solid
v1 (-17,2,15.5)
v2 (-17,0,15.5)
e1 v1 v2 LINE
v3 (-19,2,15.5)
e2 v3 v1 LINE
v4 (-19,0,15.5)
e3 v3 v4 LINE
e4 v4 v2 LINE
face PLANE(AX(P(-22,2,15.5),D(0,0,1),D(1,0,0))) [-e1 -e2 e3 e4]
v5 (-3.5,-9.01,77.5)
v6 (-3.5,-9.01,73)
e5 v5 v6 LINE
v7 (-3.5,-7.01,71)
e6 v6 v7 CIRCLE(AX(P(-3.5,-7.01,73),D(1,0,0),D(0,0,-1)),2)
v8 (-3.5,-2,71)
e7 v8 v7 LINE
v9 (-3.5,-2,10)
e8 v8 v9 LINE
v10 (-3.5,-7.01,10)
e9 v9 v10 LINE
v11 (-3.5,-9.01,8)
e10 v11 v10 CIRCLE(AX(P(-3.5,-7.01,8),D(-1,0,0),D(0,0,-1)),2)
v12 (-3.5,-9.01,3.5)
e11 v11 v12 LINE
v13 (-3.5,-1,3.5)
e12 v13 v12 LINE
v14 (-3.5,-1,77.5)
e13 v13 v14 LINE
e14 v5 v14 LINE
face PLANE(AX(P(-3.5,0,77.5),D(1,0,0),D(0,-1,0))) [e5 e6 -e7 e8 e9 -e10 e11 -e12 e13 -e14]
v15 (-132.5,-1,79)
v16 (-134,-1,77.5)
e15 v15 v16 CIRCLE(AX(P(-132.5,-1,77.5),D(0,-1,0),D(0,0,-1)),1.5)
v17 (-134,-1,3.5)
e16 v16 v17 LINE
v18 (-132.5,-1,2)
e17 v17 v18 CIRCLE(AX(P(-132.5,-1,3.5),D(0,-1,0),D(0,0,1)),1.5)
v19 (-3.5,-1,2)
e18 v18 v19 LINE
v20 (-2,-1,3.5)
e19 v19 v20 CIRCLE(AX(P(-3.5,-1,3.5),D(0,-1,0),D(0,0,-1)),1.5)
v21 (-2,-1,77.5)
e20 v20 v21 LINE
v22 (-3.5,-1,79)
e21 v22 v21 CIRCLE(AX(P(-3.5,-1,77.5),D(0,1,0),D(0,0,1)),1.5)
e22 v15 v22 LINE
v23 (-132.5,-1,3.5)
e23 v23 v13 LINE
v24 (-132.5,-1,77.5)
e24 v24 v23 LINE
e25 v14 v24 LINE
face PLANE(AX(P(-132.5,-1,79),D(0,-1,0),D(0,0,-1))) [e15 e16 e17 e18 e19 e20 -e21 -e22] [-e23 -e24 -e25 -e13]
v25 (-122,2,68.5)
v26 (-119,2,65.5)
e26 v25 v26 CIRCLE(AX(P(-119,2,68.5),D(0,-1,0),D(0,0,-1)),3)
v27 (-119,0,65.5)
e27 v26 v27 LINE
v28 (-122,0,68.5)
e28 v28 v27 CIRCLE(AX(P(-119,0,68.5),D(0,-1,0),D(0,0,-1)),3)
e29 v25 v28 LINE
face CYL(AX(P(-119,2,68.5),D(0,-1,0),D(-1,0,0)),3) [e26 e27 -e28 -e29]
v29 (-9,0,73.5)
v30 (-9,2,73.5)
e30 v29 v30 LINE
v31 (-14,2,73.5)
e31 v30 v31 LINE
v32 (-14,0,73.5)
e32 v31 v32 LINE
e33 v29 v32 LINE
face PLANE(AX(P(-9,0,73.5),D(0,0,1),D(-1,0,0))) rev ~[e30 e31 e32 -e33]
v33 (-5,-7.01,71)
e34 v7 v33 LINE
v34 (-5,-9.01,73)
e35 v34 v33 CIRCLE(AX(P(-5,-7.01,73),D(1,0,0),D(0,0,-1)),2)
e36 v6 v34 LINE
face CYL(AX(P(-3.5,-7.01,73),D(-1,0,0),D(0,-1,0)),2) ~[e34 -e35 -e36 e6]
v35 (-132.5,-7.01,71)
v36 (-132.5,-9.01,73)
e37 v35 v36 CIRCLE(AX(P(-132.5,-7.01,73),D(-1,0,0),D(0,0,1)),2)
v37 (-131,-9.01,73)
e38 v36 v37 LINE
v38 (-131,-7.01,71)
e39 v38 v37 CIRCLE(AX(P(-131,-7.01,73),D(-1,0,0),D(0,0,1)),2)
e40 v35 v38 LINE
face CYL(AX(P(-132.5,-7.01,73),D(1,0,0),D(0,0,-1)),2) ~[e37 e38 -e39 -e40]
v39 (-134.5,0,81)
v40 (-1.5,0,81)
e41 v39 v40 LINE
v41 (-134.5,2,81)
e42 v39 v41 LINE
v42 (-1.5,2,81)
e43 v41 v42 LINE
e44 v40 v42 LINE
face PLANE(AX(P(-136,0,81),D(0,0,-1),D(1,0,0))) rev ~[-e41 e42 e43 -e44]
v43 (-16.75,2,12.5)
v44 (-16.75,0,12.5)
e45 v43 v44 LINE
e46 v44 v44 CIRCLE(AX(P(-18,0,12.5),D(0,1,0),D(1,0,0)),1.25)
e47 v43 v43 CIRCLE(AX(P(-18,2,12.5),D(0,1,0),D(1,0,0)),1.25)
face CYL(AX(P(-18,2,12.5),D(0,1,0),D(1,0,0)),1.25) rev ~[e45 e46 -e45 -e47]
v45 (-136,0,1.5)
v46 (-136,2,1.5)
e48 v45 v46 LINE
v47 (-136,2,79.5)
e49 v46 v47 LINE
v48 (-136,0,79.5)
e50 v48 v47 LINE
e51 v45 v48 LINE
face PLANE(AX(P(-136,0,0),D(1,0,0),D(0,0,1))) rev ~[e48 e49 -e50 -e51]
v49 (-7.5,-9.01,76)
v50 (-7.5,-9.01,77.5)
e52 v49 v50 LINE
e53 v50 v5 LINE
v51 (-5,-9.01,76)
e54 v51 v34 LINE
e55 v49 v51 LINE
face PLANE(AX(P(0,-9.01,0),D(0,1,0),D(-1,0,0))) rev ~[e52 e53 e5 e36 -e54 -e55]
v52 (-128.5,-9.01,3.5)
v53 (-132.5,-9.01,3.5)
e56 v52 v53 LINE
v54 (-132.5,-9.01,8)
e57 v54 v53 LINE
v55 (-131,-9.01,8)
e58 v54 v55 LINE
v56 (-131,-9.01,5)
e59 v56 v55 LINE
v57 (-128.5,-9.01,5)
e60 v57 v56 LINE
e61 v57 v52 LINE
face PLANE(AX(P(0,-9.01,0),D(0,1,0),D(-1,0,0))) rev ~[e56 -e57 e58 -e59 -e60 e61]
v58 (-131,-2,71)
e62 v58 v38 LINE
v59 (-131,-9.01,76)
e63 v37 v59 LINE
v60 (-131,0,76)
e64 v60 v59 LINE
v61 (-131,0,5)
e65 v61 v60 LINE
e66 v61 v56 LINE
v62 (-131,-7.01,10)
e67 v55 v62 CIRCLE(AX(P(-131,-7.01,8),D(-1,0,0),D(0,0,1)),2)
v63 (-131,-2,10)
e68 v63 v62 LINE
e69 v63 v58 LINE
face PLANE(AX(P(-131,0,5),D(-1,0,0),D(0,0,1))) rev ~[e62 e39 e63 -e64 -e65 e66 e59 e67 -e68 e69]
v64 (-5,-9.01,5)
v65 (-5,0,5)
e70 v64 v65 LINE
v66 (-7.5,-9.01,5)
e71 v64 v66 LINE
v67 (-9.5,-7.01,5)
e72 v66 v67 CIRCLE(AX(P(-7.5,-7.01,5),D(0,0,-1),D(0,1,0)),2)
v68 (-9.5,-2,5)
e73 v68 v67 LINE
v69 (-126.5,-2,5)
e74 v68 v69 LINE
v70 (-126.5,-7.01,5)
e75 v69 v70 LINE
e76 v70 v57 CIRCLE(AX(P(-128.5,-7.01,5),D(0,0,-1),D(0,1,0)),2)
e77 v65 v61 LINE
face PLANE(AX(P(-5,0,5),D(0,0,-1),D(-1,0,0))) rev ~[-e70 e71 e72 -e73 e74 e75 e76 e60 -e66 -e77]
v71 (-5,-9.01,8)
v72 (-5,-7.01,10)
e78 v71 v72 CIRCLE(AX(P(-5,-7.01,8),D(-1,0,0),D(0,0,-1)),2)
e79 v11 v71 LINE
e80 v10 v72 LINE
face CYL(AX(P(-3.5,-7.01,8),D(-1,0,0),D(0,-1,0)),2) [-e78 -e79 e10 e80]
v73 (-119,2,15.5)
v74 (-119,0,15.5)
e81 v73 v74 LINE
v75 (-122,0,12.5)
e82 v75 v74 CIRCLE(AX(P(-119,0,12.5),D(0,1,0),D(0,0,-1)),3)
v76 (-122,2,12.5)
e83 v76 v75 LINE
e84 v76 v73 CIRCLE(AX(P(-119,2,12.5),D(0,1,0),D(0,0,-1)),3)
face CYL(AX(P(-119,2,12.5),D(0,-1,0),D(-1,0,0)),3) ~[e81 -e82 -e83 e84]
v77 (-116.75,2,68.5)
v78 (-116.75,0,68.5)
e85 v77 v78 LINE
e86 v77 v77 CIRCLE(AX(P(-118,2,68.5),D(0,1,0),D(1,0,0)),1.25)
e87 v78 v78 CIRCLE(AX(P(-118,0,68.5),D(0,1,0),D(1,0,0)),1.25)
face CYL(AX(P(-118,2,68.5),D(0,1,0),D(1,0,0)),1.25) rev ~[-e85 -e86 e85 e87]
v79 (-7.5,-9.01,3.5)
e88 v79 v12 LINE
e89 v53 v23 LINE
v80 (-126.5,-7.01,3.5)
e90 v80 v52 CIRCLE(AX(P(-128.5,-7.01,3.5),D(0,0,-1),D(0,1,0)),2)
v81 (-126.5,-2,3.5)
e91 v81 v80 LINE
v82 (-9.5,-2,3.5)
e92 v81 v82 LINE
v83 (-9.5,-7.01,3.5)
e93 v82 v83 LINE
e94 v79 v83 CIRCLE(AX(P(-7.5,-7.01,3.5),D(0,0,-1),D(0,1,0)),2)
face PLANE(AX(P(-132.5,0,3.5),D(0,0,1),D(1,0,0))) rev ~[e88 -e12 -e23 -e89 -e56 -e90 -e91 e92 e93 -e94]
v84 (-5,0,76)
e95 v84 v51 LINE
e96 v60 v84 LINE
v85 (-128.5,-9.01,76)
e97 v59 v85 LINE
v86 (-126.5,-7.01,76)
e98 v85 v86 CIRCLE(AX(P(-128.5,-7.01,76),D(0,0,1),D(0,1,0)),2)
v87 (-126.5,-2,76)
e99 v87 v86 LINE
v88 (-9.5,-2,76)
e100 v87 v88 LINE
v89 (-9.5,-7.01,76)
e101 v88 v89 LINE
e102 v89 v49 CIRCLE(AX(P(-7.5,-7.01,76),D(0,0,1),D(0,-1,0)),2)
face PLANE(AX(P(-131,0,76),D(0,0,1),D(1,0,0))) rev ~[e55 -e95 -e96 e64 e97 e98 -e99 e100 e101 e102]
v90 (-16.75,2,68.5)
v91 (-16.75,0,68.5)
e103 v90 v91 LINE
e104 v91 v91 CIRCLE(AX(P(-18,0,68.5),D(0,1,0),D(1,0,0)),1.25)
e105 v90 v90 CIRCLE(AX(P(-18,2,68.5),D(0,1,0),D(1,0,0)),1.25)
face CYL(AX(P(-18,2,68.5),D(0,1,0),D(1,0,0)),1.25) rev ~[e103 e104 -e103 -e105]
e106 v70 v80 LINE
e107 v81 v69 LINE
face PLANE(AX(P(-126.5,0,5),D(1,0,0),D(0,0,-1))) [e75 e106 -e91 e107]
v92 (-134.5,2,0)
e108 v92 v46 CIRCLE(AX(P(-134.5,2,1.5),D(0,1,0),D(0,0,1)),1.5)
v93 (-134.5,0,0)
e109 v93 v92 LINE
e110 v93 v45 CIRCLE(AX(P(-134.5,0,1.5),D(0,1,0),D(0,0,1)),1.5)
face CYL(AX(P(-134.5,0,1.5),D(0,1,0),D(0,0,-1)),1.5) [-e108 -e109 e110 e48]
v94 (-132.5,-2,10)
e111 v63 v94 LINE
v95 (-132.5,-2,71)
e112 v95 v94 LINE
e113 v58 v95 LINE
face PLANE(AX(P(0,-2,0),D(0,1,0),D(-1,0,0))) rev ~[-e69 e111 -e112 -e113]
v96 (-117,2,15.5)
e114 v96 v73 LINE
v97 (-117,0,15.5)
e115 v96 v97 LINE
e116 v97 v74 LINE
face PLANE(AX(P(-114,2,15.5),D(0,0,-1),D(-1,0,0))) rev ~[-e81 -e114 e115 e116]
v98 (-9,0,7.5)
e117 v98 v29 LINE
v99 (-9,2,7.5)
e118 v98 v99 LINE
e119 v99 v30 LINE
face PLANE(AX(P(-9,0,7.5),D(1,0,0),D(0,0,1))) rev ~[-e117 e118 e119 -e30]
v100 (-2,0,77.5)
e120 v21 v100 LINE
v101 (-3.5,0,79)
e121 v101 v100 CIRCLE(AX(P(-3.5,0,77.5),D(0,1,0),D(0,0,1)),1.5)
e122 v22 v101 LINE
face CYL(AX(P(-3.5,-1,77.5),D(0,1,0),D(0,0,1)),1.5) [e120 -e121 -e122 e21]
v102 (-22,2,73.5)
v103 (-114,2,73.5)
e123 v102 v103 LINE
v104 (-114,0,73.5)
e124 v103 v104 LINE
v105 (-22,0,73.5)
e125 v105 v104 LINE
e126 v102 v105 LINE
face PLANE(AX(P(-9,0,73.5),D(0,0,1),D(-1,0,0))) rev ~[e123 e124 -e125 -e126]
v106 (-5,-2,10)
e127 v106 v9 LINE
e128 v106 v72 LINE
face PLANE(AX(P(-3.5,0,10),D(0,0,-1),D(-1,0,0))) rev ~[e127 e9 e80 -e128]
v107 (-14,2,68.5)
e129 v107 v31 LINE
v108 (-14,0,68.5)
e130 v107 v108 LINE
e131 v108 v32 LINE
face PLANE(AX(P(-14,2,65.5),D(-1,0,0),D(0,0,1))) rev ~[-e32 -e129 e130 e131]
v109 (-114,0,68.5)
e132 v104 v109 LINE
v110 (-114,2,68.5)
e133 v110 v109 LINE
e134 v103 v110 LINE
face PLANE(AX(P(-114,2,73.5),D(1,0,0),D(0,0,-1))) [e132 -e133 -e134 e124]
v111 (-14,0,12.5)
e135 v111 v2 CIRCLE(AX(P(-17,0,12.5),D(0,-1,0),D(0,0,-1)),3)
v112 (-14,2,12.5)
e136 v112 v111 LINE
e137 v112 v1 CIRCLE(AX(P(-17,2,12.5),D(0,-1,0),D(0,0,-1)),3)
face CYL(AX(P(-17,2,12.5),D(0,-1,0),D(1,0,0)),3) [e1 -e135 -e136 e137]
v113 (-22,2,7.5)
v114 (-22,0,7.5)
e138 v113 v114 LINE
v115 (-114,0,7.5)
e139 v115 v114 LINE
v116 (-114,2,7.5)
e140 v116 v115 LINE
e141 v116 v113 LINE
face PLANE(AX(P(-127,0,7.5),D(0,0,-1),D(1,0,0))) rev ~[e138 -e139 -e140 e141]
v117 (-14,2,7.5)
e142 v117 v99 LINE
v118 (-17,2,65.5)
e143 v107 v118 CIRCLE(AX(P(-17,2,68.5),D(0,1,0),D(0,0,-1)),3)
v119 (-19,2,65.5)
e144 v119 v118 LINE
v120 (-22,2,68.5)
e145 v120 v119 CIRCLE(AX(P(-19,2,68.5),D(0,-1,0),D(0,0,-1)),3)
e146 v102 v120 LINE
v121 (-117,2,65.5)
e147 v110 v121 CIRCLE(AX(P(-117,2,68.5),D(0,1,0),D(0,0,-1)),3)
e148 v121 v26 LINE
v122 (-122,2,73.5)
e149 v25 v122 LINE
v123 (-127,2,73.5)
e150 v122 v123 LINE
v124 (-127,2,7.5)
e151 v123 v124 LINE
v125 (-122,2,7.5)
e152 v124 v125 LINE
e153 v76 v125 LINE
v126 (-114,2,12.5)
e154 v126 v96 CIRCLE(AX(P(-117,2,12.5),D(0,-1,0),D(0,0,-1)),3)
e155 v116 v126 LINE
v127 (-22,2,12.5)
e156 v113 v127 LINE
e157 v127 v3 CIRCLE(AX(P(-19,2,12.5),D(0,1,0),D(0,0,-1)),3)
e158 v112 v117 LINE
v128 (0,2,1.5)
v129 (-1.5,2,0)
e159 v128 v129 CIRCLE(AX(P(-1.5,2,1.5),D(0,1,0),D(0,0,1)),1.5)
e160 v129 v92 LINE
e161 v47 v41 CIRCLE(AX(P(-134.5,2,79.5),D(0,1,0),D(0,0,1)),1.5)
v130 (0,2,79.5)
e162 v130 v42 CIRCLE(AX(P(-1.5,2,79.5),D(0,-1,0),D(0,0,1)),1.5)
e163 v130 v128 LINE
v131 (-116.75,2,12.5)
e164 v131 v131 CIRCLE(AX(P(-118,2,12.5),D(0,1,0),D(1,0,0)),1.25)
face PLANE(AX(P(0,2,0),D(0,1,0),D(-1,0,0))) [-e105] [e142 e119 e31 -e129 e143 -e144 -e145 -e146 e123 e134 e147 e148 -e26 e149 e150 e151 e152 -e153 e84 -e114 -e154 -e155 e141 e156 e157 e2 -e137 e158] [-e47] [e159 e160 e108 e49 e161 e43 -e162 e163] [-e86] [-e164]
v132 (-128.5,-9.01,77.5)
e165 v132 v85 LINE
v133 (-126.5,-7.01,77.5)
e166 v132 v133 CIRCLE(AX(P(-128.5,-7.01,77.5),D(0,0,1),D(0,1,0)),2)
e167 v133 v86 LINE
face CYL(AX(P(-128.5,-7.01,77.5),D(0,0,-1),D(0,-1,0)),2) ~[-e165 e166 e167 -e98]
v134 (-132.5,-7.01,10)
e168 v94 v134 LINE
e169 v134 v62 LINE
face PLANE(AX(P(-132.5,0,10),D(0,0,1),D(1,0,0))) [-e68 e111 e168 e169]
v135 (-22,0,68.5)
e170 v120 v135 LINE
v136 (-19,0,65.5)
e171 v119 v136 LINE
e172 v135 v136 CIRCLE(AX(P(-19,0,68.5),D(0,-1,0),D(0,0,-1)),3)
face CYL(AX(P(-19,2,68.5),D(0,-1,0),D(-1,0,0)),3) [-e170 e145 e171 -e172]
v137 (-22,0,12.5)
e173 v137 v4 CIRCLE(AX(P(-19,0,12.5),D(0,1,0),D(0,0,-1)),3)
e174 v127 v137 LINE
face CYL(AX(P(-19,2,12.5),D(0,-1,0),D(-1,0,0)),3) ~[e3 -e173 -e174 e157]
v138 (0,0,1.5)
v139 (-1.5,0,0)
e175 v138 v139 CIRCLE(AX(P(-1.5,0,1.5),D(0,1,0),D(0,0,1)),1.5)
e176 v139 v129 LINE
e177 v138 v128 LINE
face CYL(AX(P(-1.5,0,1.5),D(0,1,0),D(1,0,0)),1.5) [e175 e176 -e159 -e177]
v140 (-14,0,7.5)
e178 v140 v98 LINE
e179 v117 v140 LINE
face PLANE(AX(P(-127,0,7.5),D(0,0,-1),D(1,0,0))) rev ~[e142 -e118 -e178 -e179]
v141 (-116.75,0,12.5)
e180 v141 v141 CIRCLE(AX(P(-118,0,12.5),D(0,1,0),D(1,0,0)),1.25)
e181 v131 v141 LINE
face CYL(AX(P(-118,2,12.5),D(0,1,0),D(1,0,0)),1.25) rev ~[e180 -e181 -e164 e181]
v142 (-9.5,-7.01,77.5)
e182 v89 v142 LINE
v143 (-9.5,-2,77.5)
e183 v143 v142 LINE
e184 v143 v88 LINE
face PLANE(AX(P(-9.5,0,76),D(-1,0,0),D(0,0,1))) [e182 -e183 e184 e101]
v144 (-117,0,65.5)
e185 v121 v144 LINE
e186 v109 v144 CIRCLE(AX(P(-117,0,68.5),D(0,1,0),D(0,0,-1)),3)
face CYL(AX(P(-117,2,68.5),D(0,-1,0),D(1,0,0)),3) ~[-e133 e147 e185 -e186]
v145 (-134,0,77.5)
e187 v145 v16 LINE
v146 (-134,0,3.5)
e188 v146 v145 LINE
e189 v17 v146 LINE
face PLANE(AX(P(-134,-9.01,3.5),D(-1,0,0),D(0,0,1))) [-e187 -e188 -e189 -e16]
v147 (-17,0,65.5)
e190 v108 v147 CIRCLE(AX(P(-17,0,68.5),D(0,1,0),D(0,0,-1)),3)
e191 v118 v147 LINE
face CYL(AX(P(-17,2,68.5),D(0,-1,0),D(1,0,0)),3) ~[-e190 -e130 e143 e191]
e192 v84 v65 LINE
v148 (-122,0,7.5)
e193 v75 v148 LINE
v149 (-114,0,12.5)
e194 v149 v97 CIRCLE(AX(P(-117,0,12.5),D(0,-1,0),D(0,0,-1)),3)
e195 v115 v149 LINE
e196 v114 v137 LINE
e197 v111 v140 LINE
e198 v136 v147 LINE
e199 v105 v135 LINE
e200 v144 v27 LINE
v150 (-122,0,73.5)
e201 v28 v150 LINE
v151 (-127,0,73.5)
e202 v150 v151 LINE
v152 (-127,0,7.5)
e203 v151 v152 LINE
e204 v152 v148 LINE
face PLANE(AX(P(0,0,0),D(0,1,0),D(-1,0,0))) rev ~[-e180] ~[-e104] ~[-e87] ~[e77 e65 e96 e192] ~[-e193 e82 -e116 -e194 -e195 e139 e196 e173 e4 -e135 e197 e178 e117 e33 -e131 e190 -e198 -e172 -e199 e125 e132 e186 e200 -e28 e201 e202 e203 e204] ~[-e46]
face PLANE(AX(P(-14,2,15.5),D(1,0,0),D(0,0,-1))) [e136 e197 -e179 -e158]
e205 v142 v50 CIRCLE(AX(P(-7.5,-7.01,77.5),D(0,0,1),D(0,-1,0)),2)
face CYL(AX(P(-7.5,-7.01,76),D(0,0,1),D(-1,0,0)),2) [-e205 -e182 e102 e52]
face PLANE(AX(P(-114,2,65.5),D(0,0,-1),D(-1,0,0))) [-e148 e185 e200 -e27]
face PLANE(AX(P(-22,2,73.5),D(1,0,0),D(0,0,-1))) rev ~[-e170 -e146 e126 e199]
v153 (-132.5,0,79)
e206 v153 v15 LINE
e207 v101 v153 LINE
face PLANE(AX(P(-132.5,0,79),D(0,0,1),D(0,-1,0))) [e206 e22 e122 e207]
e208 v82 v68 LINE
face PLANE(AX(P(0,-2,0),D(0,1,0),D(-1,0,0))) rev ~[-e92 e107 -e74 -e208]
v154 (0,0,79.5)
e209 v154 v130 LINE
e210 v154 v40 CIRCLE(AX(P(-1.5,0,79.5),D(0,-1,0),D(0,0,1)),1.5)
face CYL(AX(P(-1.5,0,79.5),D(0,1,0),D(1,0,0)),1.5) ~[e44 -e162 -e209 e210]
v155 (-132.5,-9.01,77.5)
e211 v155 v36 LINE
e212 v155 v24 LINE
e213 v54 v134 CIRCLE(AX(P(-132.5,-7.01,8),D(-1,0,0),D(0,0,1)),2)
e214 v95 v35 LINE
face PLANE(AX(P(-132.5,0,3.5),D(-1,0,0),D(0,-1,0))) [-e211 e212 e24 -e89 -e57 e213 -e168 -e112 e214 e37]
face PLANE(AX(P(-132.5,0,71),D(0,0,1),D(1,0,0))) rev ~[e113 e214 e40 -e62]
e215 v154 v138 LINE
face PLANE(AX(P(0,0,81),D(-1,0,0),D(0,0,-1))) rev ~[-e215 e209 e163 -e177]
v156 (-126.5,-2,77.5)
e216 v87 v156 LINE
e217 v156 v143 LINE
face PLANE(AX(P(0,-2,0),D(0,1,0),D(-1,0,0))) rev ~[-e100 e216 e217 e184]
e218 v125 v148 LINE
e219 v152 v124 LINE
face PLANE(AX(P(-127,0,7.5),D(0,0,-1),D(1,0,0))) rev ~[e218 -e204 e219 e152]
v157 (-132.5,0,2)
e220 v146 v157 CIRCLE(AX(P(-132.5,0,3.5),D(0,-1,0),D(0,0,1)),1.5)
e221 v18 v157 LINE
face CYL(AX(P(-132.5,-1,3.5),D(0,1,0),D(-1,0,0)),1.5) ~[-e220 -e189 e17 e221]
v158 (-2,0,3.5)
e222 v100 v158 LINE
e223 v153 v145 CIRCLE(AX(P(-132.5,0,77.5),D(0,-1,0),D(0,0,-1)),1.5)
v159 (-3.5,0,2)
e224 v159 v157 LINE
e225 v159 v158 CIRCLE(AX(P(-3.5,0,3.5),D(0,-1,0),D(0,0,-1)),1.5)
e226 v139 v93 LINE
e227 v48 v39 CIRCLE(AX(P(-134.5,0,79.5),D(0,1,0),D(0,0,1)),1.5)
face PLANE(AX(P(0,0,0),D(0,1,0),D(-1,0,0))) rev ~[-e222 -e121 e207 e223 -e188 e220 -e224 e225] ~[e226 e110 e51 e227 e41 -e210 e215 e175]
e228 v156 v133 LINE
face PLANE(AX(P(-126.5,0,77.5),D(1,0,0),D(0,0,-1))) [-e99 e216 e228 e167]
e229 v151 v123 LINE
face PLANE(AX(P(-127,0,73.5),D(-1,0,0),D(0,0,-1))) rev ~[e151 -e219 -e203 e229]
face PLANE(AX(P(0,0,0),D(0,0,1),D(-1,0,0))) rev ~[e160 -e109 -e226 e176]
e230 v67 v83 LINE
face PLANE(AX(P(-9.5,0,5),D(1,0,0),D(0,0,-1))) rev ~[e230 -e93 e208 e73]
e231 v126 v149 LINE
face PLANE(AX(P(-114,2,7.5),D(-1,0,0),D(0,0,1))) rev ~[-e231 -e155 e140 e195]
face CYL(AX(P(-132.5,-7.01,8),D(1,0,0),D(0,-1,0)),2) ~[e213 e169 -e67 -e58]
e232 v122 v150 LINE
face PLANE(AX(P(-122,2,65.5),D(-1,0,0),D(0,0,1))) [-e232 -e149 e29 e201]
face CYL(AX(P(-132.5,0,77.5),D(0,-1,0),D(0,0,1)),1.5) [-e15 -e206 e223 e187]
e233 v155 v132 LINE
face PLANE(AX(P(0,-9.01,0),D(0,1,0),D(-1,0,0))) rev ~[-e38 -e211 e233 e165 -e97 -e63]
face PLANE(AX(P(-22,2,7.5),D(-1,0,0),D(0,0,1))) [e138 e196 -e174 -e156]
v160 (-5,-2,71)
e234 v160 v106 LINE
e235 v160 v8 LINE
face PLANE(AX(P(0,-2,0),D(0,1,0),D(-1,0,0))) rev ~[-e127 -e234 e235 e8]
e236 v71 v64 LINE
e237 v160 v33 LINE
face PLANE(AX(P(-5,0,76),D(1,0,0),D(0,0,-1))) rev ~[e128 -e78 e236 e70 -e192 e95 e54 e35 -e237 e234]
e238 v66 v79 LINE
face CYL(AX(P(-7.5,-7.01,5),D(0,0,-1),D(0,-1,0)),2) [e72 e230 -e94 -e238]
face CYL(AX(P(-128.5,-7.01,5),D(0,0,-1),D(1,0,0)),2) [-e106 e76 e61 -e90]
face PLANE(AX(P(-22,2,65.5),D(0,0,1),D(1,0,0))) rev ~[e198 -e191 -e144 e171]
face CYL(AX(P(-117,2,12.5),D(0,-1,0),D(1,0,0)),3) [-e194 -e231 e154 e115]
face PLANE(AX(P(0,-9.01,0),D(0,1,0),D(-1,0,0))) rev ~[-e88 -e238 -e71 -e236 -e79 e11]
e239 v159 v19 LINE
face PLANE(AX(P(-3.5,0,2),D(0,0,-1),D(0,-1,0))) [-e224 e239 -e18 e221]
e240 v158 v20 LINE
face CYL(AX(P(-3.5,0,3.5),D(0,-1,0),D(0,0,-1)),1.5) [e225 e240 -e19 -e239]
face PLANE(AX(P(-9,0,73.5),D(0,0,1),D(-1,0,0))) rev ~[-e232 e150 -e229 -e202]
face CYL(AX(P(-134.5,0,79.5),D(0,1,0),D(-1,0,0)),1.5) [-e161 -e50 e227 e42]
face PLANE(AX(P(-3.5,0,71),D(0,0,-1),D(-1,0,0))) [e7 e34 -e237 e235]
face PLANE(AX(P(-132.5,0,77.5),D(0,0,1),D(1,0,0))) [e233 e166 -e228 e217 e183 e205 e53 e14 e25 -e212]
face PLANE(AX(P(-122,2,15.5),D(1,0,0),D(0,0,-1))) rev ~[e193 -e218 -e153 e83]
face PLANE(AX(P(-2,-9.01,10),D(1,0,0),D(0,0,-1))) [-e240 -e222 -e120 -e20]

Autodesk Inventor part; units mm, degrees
ref_plane "YZ Plane" through (0, 0, 0) normal (1, 0, 0) x (0, 1, 0)
ref_plane "XZ Plane" through (0, 0, 0) normal (0, 1, 0) x (-1, 0, 0)
ref_plane "XY Plane" through (0, 0, 0) normal (0, 0, 1) x (1, 0, 0)
sketch "スケッチ2" plane through (0, 0, 0) normal (0, 1, 0) x (-1, 0, 0)
  line L0 (0, 0) -> (136, 0)
  line L1 (136, 0) -> (136, 81)
  line L2 (136, 81) -> (0, 81)
  line L3 (0, 81) -> (0, 0)
  dimension "d2" = 81
  dimension "d3" = 136
extrude "押し出し1" add sketch "スケッチ2" along normal blind 2
sketch "スケッチ3" plane through (0, 0, 0) normal (0, 1, 0) x (-1, 0, 0)
  line L0 (5, 5) -> (131, 5)
  line L1 (131, 5) -> (131, 76)
  line L2 (131, 76) -> (5, 76)
  line L3 (5, 76) -> (5, 5)
  line L4 (136, 0) -> (136, 81) projected
  line L5 (136, 81) -> (0, 81) projected
  line L6 (132.5, 77.5) -> (126.5, 77.5)
  line L7 (126.5, 77.5) -> (126.5, 76)
  line L8 (126.5, 76) -> (132.5, 76)
  line L9 (132.5, 76) -> (132.5, 77.5)
  line L10 (131, 76) -> (132.5, 76)
  line L11 (132.5, 76) -> (132.5, 71)
  line L12 (132.5, 71) -> (131, 71)
  line L13 (131, 71) -> (131, 76)
  line L14 (131, 5) -> (132.5, 5)
  line L15 (132.5, 5) -> (132.5, 10)
  line L16 (132.5, 10) -> (131, 10)
  line L17 (131, 10) -> (131, 5)
  line L18 (132.5, 5) -> (126.5, 5)
  line L19 (126.5, 5) -> (126.5, 3.5)
  line L20 (126.5, 3.5) -> (132.5, 3.5)
  line L21 (132.5, 3.5) -> (132.5, 5)
  line L22 (5, 76) -> (3.5, 76)
  line L23 (3.5, 76) -> (3.5, 71)
  line L24 (3.5, 71) -> (5, 71)
  line L25 (5, 71) -> (5, 76)
  line L26 (3.5, 76) -> (9.5, 76)
  line L27 (9.5, 76) -> (9.5, 77.5)
  line L28 (9.5, 77.5) -> (3.5, 77.5)
  line L29 (3.5, 77.5) -> (3.5, 76)
  line L30 (5, 5) -> (3.5, 5)
  line L31 (3.5, 5) -> (3.5, 10)
  line L32 (3.5, 10) -> (5, 10)
  line L33 (5, 10) -> (5, 5)
  line L34 (3.5, 5) -> (9.5, 5)
  line L35 (9.5, 5) -> (9.5, 3.5)
  line L36 (9.5, 3.5) -> (3.5, 3.5)
  line L37 (3.5, 3.5) -> (3.5, 5)
  point P0 (0, 0)
  dimension "d6" = 126
  dimension "d7" = 71
  dimension "d8" = 5
  dimension "d9" = 5
  dimension "d10" = 1.5
  dimension "d11" = 1.5
  dimension "d12" = 5
  dimension "d13" = 6
  dimension "d14" = 0
  dimension "d17" = 1.5
  dimension "d18" = 1.5
  dimension "d19" = 6
  dimension "d20" = 5
  dimension "d21" = 5
  dimension "d22" = 1.5
  dimension "d23" = 1.5
  dimension "d24" = 6
  dimension "d25" = 6
  dimension "d26" = 1.5
  dimension "d27" = 1.5
  dimension "d28" = 5
extrude "押し出し2" add sketch "スケッチ3" against normal blind 9.01 contours L30 L31 L32 L3 | L0 L35 L36 L37 L30 | L0 L14 L21 L20 L19 | L24 L23 L22 L3 | L1 L16 L15 L14 | L22 L29 L28 L27 L2 | L1 L8 L11 L12 | L7 L6 L9 L8 L2
sketch "スケッチ5" plane through (0, 0, 0) normal (0, 1, 0) x (-1, 0, 0)
  line L0 (131, 76) -> (5, 76)
  line L1 (5, 76) -> (5, 5)
  line L2 (5, 5) -> (131, 5)
  line L3 (131, 5) -> (131, 76)
  line L4 (0, 81) -> (0, 0) projected
  line L5 (131, 76) -> (5, 76)
  line L6 (5, 76) -> (5, 77.5)
  line L7 (5, 77.5) -> (131, 77.5)
  line L8 (131, 77.5) -> (131, 76)
  line L9 (131, 5) -> (5, 5)
  line L10 (5, 5) -> (5, 3.5)
  line L11 (5, 3.5) -> (131, 3.5)
  line L12 (131, 3.5) -> (131, 5)
  line L13 (131, 77.5) -> (132.5, 77.5)
  line L14 (132.5, 77.5) -> (132.5, 3.5)
  line L15 (132.5, 3.5) -> (131, 3.5)
  line L16 (131, 3.5) -> (131, 77.5)
  line L17 (5, 77.5) -> (3.5, 77.5)
  line L18 (3.5, 77.5) -> (3.5, 3.5)
  line L19 (3.5, 3.5) -> (5, 3.5)
  line L20 (5, 3.5) -> (5, 77.5)
  dimension "d34" = 126
  dimension "d35" = 71
  dimension "d36" = 5
  dimension "d37" = 5
  dimension "d38" = 1.5
  dimension "d39" = 1.5
  dimension "d40" = 1.5
  dimension "d41" = 1.5
  dimension "d42" = 1.5
  dimension "d43" = 1.5
extrude "押し出し4" add sketch "スケッチ5" against normal blind 2 contours L8 L13 L14 L15 L12 L3 | L0 L6 L7 L8 | L1 L10 L19 L18 L17 L6 | L12 L11 L10 L2
sketch "スケッチ7" plane through (0, 0, 0) normal (0, 1, 0) x (-1, 0, 0)
  line L0 (9, 73.5) -> (127, 73.5)
  line L1 (127, 73.5) -> (127, 7.5)
  line L2 (127, 7.5) -> (9, 7.5)
  line L3 (9, 7.5) -> (9, 73.5)
  line L4 (136, 0) -> (136, 81) projected
  line L5 (136, 81) -> (0, 81) projected
  point P0 (0, 0)
  dimension "d50" = 66
  dimension "d51" = 118
  dimension "d52" = 9
  dimension "d53" = 7.5
extrude "押し出し6" cut sketch "スケッチ7" along normal up to next
sketch "スケッチ9" plane through (-132.5, 0, 77.5) normal (0, 0, 1) x (1, 0, 0)
  line L0 (129, 0) -> (129, -9.01) projected
  line L1 (0, 0) -> (129, 0) projected
  line L2 (0, 0) -> (129, 0)
  line L3 (129, 0) -> (129, -1)
  line L4 (129, -1) -> (0, -1)
  line L5 (0, -1) -> (0, 0)
  point P0 (132.5, 0)
  dimension "d62" = 1
extrude "押し出し8" add sketch "スケッチ9" along normal blind 1.5
sketch "スケッチ10" plane through (-3.5, 0, 3.5) normal (0, 0, -1) x (-1, 0, 0)
  line L0 (129, 0) -> (129, -9.01) projected
  line L1 (0, 0) -> (129, 0)
  line L2 (129, 0) -> (129, -1)
  line L3 (129, -1) -> (0, -1)
  line L4 (0, -1) -> (0, 0)
  point P0 (-3.5, 0)
  dimension "d65" = 1
extrude "押し出し9" add sketch "スケッチ10" along normal blind 1.5
sketch "スケッチ11" plane through (-3.5, -9.01, 10) normal (1, 0, 0) x (0, 0, -1)
  line L0 (-69, 9.01) -> (8, 9.01)
  line L1 (8, 9.01) -> (8, 8.01)
  line L2 (8, 8.01) -> (-69, 8.01)
  line L3 (-69, 8.01) -> (-69, 9.01)
  point P0 (10, 9.01)
extrude "押し出し10" add sketch "スケッチ11" along normal blind 1.5
sketch "スケッチ12" plane through (-132.5, -9.01, 3.5) normal (-1, 0, 0) x (0, 0, 1)
  line L0 (-1.5, 9.01) -> (75.5, 9.01)
  line L1 (75.5, 9.01) -> (75.5, 8.01)
  line L2 (75.5, 8.01) -> (-1.5, 8.01)
  line L3 (-1.5, 8.01) -> (-1.5, 9.01)
  point P0 (-3.5, 9.01)
extrude "押し出し11" add sketch "スケッチ12" along normal blind 1.5
sketch "スケッチ13" plane through (0, 2, 0) normal (0, 1, 0) x (1, 0, 0)
  line L0 (-127, -7.5) -> (-9, -7.5) projected
  line L1 (-9, -7.5) -> (-9, -73.5) projected
  line L2 (-9, -73.5) -> (-127, -73.5) projected
  line L3 (-9, -73.5) -> (-127, -73.5) projected
  line L4 (-127, -73.5) -> (-127, -7.5) projected
  line L5 (-127, -7.5) -> (-9, -7.5) projected
  line L6 (-122, -7.5) -> (-114, -7.5)
  line L7 (-114, -7.5) -> (-114, -15.5)
  line L8 (-114, -15.5) -> (-122, -15.5)
  line L9 (-122, -15.5) -> (-122, -7.5)
  line L10 (-122, -73.5) -> (-114, -73.5)
  line L11 (-114, -73.5) -> (-114, -65.5)
  line L12 (-114, -65.5) -> (-122, -65.5)
  line L13 (-122, -65.5) -> (-122, -73.5)
  line L14 (-14, -7.5) -> (-22, -7.5)
  line L15 (-22, -7.5) -> (-22, -15.5)
  line L16 (-22, -15.5) -> (-14, -15.5)
  line L17 (-14, -15.5) -> (-14, -7.5)
  line L18 (-14, -73.5) -> (-22, -73.5)
  line L19 (-22, -73.5) -> (-22, -65.5)
  line L20 (-22, -65.5) -> (-14, -65.5)
  line L21 (-14, -65.5) -> (-14, -73.5)
  circle A0 centre (-118, -12.5) radius 1.25
  circle A1 centre (-118, -68.5) radius 1.25
  circle A2 centre (-18, -12.5) radius 1.25
  circle A3 centre (-18, -68.5) radius 1.25
  point P0 (-44.5213, -7.5)
  point P1 (-44.5213, -73.5)
  point P2 (-91.4787, -7.5)
  point P3 (-91.4787, -73.5)
  dimension "d72" = 8
  dimension "d73" = 8
  dimension "d74" = 8
  dimension "d75" = 8
  dimension "d76" = 8
  dimension "d77" = 8
  dimension "d78" = 8
  dimension "d79" = 8
  dimension "d80" = 5
  dimension "d81" = 5
  dimension "d82" = 5
  dimension "d83" = 5
  dimension "d84" = 2.5
  dimension "d85" = 2.5
  dimension "d86" = 2.5
  dimension "d87" = 2.5
  dimension "d88" = 4
  dimension "d89" = 3
  dimension "d90" = 3
  dimension "d91" = 4
  dimension "d92" = 4
  dimension "d93" = 5
  dimension "d94" = 4
  dimension "d95" = 5
extrude "押し出し12" add sketch "スケッチ13" against normal blind 2 contours L0 L7 L8 L9 | L13 L12 L11 L2 | L0 L17 L16 L15 | L19 L20 L21 L2
fillet "フィレット1" radius 3 8 edges at (-14, 1, 65.5) (-22, 1, 65.5) (-114, 1, 65.5) (-122, 1, 65.5) (-114, 1, 15.5) (-122, 1, 15.5) (-14, 1, 15.5) (-22, 1, 15.5)
fillet "フィレット2" radius 1.5 8 edges at (0, 1, 81) (0, 1, 0) (-136, 1, 0) (-136, 1, 81) (-134, -0.5, 79) (-134, -0.5, 2) (-2, -0.5, 2) (-2, -0.5, 79)
sketch "スケッチ15" plane through (0, -2, 0) normal (0, -1, 0) x (1, 0, 0)
  line L0 (-101.5, 77.5) -> (-101.5, 76) projected
  line L1 (-126.5, 76) -> (-9.5, 76) projected
  line L2 (-9.5, 77.5) -> (-126.5, 77.5) projected
  line L3 (-93, 77.5) -> (-43, 77.5)
  line L4 (-43, 77.5) -> (-43, 76)
  line L5 (-43, 76) -> (-93, 76)
  line L6 (-93, 76) -> (-93, 77.5)
  point P0 (-34.5, 76)
  point P1 (-34.5, 77.5)
  point P2 (0, 0)
  dimension "d107" = 50
  dimension "d108" = 8.5
extrude "押し出し14" [suppressed]
fillet "フィレット4" radius 2 8 edges at (-131.75, -9.01, 71) (-131.75, -9.01, 10) (-126.5, -9.01, 4.25) (-4.25, -9.01, 71) (-4.25, -9.01, 10) (-9.5, -9.01, 4.25) (-126.5, -9.01, 76.75) (-9.5, -9.01, 76.75)
equation "\"d52\" = 0.5 * d3 - 0.5 * d51"
equation "\"d53\" = 0.5 * d2 - 0.5 * d50"
properties part number "lower"
